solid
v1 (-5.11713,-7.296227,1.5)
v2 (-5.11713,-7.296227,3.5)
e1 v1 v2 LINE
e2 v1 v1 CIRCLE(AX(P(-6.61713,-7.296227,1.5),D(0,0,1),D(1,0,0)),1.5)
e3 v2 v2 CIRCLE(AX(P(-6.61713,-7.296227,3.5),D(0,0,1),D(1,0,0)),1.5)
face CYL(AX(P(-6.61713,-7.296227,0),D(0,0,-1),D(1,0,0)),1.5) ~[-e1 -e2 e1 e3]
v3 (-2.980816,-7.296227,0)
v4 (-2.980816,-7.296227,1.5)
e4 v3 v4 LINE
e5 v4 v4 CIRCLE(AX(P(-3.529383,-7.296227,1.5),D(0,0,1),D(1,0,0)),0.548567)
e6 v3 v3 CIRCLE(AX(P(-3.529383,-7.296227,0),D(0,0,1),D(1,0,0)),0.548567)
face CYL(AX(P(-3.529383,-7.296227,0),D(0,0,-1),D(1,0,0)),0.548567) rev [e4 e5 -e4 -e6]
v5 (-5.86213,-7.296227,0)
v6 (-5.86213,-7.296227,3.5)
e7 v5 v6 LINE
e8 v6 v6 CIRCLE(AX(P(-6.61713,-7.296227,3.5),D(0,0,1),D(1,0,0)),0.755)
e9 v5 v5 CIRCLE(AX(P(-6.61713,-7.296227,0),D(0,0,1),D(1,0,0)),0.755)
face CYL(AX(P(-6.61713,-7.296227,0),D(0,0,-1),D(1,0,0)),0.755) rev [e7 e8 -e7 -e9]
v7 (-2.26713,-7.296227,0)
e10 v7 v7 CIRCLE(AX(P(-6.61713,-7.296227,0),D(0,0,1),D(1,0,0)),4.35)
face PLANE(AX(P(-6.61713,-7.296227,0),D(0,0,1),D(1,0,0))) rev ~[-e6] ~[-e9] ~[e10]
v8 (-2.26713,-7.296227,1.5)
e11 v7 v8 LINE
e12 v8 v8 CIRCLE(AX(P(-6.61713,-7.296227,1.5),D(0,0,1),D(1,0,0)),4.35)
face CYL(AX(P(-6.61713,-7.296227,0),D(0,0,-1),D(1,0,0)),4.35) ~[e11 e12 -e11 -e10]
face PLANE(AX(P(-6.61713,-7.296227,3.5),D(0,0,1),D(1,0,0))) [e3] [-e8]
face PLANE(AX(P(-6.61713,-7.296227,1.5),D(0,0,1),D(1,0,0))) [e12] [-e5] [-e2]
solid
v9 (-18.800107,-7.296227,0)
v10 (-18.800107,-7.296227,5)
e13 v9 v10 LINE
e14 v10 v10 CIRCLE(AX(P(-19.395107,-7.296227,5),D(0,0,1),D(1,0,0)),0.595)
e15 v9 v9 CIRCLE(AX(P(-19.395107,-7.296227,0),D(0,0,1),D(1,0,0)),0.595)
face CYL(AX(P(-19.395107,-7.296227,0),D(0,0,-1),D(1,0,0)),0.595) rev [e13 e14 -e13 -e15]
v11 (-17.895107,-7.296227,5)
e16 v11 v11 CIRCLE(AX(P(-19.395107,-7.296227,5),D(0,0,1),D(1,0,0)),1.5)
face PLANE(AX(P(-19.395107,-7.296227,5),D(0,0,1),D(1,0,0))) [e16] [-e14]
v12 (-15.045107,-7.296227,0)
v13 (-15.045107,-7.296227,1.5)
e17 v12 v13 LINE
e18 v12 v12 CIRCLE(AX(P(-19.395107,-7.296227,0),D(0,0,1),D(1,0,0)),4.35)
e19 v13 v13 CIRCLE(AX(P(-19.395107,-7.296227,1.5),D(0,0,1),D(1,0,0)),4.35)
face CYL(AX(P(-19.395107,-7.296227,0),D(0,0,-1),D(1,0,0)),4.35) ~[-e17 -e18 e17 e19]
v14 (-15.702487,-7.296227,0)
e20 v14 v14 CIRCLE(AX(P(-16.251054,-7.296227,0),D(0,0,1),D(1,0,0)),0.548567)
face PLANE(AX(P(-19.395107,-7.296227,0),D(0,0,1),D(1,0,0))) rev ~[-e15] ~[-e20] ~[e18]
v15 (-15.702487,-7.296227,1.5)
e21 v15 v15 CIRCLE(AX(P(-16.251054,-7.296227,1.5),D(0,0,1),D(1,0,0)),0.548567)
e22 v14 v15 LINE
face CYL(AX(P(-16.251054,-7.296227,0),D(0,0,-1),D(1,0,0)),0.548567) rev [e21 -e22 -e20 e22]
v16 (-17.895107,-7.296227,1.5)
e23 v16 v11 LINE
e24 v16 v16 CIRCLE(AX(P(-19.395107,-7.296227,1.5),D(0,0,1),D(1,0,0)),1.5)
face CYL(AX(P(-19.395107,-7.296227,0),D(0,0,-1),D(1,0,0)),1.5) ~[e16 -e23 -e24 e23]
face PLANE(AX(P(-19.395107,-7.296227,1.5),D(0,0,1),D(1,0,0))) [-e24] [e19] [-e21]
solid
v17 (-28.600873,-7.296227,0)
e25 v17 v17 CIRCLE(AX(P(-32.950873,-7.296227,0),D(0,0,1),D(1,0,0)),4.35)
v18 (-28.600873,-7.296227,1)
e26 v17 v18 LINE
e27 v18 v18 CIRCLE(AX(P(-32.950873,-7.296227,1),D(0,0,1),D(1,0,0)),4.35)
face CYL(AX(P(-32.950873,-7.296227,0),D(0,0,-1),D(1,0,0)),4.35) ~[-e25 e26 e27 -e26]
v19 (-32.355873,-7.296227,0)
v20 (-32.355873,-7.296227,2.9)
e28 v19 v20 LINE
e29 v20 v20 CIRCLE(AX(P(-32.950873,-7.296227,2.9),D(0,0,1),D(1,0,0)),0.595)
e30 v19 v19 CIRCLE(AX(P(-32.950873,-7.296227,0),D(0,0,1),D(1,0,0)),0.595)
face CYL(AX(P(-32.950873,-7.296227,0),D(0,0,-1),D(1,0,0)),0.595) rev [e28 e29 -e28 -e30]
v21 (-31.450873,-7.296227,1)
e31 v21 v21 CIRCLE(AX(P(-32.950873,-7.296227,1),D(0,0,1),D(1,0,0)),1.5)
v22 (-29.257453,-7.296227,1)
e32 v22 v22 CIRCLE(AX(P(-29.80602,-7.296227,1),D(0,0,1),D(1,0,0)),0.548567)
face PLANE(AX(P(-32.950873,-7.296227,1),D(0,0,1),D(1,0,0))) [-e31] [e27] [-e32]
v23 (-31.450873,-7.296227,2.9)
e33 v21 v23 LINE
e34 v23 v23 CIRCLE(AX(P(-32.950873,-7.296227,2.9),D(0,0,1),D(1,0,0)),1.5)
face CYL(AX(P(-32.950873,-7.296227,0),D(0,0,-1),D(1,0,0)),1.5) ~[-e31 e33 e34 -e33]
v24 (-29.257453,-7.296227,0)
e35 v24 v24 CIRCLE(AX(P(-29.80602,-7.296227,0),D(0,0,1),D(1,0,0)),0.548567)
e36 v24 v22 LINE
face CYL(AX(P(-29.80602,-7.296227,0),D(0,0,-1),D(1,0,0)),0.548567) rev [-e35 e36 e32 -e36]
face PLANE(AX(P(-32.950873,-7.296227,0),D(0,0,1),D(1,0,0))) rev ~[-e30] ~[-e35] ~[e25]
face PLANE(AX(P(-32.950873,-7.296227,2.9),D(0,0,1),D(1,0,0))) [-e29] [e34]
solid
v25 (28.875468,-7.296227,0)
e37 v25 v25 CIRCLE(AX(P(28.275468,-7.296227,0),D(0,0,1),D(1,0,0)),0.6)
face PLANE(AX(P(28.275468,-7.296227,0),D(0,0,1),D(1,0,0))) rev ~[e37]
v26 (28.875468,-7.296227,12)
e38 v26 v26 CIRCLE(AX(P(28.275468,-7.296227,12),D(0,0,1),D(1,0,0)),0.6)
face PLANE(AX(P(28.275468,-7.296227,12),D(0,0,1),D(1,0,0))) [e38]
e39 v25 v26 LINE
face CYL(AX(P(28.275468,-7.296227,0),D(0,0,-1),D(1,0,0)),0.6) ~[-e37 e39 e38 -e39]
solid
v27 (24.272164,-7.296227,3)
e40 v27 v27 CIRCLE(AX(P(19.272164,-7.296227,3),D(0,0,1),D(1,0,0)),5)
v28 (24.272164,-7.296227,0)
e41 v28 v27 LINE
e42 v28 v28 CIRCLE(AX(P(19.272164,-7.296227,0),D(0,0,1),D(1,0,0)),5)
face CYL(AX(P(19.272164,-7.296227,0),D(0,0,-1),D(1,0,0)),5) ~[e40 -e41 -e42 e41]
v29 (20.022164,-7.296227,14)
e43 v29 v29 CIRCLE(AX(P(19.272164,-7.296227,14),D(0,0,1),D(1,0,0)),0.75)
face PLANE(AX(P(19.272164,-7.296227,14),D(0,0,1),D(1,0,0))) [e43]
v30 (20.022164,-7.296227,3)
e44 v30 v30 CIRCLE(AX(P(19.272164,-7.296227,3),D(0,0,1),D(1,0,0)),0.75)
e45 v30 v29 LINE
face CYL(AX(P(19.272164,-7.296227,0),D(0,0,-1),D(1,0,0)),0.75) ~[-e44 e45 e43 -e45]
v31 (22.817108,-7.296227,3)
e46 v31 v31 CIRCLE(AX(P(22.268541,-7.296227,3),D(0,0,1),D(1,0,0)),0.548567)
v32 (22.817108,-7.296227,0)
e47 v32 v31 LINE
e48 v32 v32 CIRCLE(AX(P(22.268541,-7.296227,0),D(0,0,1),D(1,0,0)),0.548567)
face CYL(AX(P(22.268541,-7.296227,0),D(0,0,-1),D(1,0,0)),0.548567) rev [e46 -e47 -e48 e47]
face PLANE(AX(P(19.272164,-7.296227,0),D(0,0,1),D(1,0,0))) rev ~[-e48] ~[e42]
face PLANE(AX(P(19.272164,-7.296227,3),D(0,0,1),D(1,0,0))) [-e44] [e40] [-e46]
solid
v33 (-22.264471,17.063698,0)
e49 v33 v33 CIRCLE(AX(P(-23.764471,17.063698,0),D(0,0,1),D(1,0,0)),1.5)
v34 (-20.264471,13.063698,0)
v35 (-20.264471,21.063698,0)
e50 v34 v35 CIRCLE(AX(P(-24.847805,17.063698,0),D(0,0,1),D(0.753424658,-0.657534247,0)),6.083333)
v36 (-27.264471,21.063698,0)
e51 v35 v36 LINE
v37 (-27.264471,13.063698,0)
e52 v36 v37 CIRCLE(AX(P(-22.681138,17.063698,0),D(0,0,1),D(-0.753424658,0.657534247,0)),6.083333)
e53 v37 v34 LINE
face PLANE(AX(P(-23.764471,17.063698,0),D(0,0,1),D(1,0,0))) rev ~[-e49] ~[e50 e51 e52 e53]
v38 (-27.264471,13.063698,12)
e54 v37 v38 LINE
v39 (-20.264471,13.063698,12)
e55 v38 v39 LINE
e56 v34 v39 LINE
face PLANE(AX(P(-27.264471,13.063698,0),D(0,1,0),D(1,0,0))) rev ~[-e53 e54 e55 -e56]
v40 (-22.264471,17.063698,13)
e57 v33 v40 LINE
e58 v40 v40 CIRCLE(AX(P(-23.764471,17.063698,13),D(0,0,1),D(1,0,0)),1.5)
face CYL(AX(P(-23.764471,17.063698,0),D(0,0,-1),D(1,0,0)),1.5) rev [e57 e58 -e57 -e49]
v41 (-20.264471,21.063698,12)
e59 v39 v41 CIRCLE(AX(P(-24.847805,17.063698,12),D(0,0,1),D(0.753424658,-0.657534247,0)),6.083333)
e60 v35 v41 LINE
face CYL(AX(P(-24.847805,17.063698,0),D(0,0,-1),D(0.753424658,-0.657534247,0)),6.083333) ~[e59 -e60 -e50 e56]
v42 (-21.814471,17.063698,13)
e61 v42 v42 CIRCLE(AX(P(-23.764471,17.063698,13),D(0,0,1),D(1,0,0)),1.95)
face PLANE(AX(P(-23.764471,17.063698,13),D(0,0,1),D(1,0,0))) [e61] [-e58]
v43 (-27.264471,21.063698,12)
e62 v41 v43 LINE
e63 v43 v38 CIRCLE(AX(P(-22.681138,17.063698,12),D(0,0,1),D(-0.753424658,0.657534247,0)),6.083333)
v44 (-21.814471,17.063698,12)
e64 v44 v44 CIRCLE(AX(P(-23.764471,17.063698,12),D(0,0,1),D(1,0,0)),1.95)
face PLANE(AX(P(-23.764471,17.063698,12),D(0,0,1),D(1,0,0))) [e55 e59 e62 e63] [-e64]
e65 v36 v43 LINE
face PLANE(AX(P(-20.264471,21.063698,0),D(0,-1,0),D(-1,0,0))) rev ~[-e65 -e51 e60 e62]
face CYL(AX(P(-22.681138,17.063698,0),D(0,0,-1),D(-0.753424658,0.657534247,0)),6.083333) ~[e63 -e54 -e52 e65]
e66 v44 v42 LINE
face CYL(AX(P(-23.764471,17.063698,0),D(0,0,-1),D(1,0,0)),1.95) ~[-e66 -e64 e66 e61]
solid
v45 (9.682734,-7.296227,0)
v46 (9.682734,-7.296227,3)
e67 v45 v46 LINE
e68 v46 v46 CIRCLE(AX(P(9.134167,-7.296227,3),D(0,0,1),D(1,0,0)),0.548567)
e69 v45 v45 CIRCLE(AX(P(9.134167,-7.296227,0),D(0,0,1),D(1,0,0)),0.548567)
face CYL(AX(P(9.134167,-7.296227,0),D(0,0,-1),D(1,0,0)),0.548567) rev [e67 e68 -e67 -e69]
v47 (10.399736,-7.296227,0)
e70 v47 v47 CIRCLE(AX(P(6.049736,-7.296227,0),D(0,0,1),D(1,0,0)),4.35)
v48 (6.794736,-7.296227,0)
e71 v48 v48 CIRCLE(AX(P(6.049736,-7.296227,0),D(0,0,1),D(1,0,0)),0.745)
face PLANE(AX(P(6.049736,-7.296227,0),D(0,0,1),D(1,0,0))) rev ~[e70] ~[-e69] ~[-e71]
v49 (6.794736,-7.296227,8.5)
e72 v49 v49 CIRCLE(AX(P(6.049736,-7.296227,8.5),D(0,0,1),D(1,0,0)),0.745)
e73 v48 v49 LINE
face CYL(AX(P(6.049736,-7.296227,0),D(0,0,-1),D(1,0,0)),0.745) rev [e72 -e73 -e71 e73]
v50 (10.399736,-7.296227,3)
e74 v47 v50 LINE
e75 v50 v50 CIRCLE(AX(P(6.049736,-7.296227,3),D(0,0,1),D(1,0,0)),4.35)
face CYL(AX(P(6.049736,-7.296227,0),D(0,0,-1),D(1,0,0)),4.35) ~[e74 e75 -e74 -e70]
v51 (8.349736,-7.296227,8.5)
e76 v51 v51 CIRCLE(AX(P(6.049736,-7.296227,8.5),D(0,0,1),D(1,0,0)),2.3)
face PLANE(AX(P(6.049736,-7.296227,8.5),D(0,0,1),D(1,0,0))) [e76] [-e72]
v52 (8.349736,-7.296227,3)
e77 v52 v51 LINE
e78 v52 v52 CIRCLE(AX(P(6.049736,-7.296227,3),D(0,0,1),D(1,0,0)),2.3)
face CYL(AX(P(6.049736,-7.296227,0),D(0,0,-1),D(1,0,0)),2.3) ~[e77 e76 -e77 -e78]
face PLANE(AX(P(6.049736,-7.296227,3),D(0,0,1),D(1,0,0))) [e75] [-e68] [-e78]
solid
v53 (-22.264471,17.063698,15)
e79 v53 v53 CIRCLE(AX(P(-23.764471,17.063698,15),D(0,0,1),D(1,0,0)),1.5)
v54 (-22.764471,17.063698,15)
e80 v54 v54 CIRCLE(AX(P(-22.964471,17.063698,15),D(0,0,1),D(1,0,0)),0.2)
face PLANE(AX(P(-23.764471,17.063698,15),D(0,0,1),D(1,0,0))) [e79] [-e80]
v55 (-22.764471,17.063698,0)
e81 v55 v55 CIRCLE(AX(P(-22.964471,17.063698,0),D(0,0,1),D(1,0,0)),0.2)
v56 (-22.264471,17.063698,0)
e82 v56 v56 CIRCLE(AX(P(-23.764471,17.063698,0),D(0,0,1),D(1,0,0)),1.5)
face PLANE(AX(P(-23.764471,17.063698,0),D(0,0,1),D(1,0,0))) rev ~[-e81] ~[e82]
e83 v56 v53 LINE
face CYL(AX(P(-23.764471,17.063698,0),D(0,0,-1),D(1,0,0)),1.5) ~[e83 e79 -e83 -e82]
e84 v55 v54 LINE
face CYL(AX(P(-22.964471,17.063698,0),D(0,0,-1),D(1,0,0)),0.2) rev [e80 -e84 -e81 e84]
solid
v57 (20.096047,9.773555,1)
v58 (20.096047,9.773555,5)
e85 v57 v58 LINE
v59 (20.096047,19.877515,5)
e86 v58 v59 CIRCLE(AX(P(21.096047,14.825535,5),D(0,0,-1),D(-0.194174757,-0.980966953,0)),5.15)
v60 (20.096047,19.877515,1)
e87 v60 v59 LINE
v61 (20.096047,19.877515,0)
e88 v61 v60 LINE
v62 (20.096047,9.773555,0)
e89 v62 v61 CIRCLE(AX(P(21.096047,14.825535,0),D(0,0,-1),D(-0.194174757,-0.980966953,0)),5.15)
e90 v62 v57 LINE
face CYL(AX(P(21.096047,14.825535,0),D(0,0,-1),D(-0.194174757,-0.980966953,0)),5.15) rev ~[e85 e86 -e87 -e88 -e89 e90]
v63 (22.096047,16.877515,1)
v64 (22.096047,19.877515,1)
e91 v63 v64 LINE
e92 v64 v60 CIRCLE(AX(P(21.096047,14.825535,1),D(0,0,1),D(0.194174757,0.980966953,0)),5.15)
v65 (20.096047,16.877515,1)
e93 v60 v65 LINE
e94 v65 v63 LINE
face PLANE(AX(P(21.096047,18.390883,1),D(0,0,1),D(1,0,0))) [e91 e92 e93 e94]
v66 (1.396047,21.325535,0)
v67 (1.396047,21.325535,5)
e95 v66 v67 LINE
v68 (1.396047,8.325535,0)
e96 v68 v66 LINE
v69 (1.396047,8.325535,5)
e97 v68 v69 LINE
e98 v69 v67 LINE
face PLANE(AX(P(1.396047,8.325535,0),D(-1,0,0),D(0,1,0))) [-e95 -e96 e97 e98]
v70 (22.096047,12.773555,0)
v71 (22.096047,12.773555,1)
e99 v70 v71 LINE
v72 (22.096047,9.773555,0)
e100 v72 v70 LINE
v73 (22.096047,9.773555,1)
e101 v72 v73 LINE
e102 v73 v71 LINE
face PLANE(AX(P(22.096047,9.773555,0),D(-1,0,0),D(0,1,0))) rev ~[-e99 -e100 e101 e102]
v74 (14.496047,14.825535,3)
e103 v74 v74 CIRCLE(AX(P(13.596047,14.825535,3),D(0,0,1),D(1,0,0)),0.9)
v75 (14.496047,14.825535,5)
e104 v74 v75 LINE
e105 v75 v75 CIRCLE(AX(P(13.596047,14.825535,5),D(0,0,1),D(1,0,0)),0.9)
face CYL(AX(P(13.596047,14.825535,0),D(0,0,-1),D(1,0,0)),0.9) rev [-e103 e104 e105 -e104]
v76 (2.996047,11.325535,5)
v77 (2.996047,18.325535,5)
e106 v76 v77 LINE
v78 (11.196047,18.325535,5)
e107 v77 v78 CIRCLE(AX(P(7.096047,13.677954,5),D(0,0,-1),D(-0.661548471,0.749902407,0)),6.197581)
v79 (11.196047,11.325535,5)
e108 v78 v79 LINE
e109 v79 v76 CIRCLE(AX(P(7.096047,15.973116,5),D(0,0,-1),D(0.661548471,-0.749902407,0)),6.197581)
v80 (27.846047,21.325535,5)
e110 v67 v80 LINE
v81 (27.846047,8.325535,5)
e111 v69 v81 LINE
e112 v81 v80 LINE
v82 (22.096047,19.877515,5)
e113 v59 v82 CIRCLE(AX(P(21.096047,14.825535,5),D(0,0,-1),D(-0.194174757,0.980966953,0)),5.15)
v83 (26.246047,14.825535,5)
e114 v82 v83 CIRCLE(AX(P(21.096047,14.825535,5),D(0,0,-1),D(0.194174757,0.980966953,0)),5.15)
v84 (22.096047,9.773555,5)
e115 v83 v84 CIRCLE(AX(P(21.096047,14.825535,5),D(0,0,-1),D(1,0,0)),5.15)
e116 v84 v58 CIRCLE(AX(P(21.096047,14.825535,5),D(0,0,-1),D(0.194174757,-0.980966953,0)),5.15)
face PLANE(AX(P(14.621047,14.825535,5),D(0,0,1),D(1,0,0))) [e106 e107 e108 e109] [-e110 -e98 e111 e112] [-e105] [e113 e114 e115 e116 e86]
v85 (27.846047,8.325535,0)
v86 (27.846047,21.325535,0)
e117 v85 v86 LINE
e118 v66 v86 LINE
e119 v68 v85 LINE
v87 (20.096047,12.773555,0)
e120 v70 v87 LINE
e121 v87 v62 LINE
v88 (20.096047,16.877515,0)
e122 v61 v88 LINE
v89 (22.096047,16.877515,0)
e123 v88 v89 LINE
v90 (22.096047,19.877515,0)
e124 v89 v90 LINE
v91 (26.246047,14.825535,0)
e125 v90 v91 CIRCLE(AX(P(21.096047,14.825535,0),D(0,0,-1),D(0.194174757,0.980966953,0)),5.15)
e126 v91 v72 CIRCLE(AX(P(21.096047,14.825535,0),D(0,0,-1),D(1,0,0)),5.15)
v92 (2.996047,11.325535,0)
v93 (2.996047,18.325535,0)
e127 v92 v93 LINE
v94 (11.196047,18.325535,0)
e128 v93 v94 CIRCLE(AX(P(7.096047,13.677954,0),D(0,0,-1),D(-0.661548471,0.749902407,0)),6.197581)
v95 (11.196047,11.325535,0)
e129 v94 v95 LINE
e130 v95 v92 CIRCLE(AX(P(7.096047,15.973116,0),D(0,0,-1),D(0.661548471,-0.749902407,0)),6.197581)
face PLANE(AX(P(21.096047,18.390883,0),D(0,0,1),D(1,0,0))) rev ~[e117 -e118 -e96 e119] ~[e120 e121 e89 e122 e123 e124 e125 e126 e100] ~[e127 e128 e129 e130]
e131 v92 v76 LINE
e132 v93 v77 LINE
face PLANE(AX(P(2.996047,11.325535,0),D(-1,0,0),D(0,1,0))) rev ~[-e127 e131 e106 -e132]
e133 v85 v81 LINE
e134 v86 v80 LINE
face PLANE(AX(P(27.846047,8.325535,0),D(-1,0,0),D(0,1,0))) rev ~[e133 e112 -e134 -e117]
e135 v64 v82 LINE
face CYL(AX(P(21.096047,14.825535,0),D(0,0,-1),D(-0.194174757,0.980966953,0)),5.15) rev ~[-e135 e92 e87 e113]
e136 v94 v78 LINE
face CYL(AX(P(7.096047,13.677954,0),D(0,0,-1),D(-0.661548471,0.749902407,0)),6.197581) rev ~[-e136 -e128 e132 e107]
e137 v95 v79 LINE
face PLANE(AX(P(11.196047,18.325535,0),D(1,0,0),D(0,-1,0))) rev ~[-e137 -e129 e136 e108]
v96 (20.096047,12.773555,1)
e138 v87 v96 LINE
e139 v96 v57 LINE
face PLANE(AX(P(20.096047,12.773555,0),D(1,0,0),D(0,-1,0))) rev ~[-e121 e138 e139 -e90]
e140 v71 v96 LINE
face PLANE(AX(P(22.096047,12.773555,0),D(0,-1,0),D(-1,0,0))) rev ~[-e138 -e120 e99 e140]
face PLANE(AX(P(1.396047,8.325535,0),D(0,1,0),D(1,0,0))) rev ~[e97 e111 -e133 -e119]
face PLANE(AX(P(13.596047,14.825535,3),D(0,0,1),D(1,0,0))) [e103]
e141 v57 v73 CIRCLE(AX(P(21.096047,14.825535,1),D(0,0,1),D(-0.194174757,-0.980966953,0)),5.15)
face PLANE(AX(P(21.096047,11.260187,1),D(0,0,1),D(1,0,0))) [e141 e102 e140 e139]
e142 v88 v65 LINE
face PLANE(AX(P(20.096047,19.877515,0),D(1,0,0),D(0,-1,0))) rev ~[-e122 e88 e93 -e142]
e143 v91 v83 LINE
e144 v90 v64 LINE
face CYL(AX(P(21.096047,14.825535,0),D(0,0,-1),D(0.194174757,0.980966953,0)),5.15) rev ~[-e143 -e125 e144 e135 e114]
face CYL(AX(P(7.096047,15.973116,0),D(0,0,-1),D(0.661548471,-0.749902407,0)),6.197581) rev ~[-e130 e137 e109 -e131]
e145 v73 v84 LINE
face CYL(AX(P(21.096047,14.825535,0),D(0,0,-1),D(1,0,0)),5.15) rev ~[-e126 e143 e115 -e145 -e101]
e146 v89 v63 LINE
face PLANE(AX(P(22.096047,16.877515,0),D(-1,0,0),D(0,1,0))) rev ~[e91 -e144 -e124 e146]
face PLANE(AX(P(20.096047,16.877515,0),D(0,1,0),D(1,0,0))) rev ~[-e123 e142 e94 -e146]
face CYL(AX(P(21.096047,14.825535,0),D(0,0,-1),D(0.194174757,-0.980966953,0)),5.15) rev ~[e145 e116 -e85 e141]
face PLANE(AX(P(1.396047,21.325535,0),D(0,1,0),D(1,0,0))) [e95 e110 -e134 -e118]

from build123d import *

# Parameters (mm, degrees)
F0_R      = 5
F0_R_2    = 0.75
F0_R_3    = 0.5485666416
F1_DEPTH  = 3
F2_DEPTH  = 14
F0_R_4    = 4.35
F0_R_5    = 2.3
F3_DEPTH  = 3
F0_R_6    = 0.745
F4_DEPTH  = 8.5
F0_R_7    = 1.5
F5_DEPTH  = 1.5
F0_R_8    = 0.755
F6_DEPTH  = 3.5
F7_DEPTH  = 1.5
F0_R_9    = 0.595
F8_DEPTH  = 5
F9_DEPTH  = 1
F10_DEPTH = 2.9
F0_R_10   = 0.6
F11_DEPTH = 12
F0_W      = 26.45
F0_H      = 13
F0_R_11   = 0.9
F12_DEPTH = 6
F13_DEPTH = 3
F14_DEPTH = 1
F0_R_12   = 2
F15_DEPTH = 5
F0_R_13   = 1.95
F16_DEPTH = 12
F17_DEPTH = 13
F0_R_14   = 0.2
F18_DEPTH = 15
F19_DEPTH = 1


with BuildPart() as f1:
    # F0 (on Top) → F1 (new body)
    with BuildSketch(Plane.XY):
        with Locations((19.2721644416, -7.2962273844)):
            Circle(F0_R)
        with Locations((19.2721644416, -7.2962273844)):
            Circle(F0_R_2, mode=Mode.SUBTRACT)
        with Locations((22.2685411572, -7.2962273844)):
            Circle(F0_R_3, mode=Mode.SUBTRACT)
    extrude(amount=F1_DEPTH)

    # F0 (on Top) → F2 (join)
    with BuildSketch(Plane.XY):
        with Locations((19.2721644416, -7.2962273844)):
            Circle(F0_R_2)
    extrude(amount=F2_DEPTH)

    # F0 (on Top) → F15 (cut)
    with BuildSketch(Plane.XY):
        with BuildLine():
            ThreePointArc((11.1960465208, 18.3255350873), (7.0960465208, 19.8755350873), (2.9960465208, 18.3255350873))
            Line((2.9960465208, 18.3255350873), (2.9960465208, 14.8255350873))
            Line((2.9960465208, 14.8255350873), (2.9960465208, 11.3255350873))
            ThreePointArc((2.9960465208, 11.3255350873), (7.0960465208, 9.7755350873), (11.1960465208, 11.3255350873))
            Line((11.1960465208, 11.3255350873), (11.1960465208, 14.8255350873))
            Line((11.1960465208, 14.8255350873), (11.1960465208, 18.3255350873))
        make_face()
        with Locations((7.0960465208, 14.8255350873)):
            Circle(F0_R_12, mode=Mode.SUBTRACT)
    extrude(amount=F15_DEPTH, mode=Mode.SUBTRACT)


with BuildPart() as f3:
    # F0 (on Top) → F3 (new body)
    with BuildSketch(Plane.XY):
        with Locations((6.0497364029, -7.2962273844)):
            Circle(F0_R_4)
        with Locations((6.0497364029, -7.2962273844)):
            Circle(F0_R_5, mode=Mode.SUBTRACT)
        with Locations((9.134166874, -7.2962273844)):
            Circle(F0_R_3, mode=Mode.SUBTRACT)
    extrude(amount=F3_DEPTH)

    # F0 (on Top) → F4 (join)
    with BuildSketch(Plane.XY):
        with Locations((6.0497364029, -7.2962273844)):
            Circle(F0_R_5)
        with Locations((6.0497364029, -7.2962273844)):
            Circle(F0_R_6, mode=Mode.SUBTRACT)
    extrude(amount=F4_DEPTH)


with BuildPart() as f5:
    # F0 (on Top) → F5 (new body)
    with BuildSketch(Plane.XY):
        with Locations((-6.6171297804, -7.2962273844)):
            Circle(F0_R_4)
        with Locations((-6.6171297804, -7.2962273844)):
            Circle(F0_R_7, mode=Mode.SUBTRACT)
        with Locations((-3.5293828696, -7.2962273844)):
            Circle(F0_R_3, mode=Mode.SUBTRACT)
    extrude(amount=F5_DEPTH)

    # F0 (on Top) → F6 (join)
    with BuildSketch(Plane.XY):
        with Locations((-6.6171297804, -7.2962273844)):
            Circle(F0_R_7)
        with Locations((-6.6171297804, -7.2962273844)):
            Circle(F0_R_8, mode=Mode.SUBTRACT)
    extrude(amount=F6_DEPTH)


with BuildPart() as f7:
    # F0 (on Top) → F7 (new body)
    with BuildSketch(Plane.XY):
        with Locations((-19.3951069377, -7.2962273844)):
            Circle(F0_R_4)
        with Locations((-19.3951069377, -7.2962273844)):
            Circle(F0_R_7, mode=Mode.SUBTRACT)
        with Locations((-16.2510535447, -7.2962273844)):
            Circle(F0_R_3, mode=Mode.SUBTRACT)
    extrude(amount=F7_DEPTH)

    # F0 (on Top) → F8 (join)
    with BuildSketch(Plane.XY):
        with Locations((-19.3951069377, -7.2962273844)):
            Circle(F0_R_7)
        with Locations((-19.3951069377, -7.2962273844)):
            Circle(F0_R_9, mode=Mode.SUBTRACT)
    extrude(amount=F8_DEPTH)


with BuildPart() as f9:
    # F0 (on Top) → F9 (new body)
    with BuildSketch(Plane.XY):
        with Locations((-32.9508734867, -7.2962273844)):
            Circle(F0_R_4)
        with Locations((-32.9508734867, -7.2962273844)):
            Circle(F0_R_7, mode=Mode.SUBTRACT)
        with Locations((-29.8060197383, -7.2962273844)):
            Circle(F0_R_3, mode=Mode.SUBTRACT)
    extrude(amount=F9_DEPTH)

    # F0 (on Top) → F10 (join)
    with BuildSketch(Plane.XY):
        with Locations((-32.9508734867, -7.2962273844)):
            Circle(F0_R_7)
        with Locations((-32.9508734867, -7.2962273844)):
            Circle(F0_R_9, mode=Mode.SUBTRACT)
    extrude(amount=F10_DEPTH)


with BuildPart() as f11:
    # F0 (on Top) → F11 (new body)
    with BuildSketch(Plane.XY):
        with Locations((28.2754683867, -7.2962273844)):
            Circle(F0_R_10)
    extrude(amount=F11_DEPTH)


with BuildPart() as f12:
    # F0 (on Top) → F12 (new body)
    with BuildSketch(Plane.XY):
        with Locations((14.6210465208, 14.8255350873)):
            Rectangle(F0_W, F0_H)
        with BuildLine():
            Line((2.9960465208, 14.8255350873), (2.9960465208, 18.3255350873))
            ThreePointArc((2.9960465208, 18.3255350873), (7.0960465208, 19.8755350873), (11.1960465208, 18.3255350873))
            Line((11.1960465208, 18.3255350873), (11.1960465208, 14.8255350873))
            Line((11.1960465208, 14.8255350873), (11.1960465208, 11.3255350873))
            ThreePointArc((11.1960465208, 11.3255350873), (7.0960465208, 9.7755350873), (2.9960465208, 11.3255350873))
            Line((2.9960465208, 11.3255350873), (2.9960465208, 14.8255350873))
        make_face(mode=Mode.SUBTRACT)
        with Locations((13.5960465208, 14.8255350873)):
            Circle(F0_R_11, mode=Mode.SUBTRACT)
        with BuildLine():
            ThreePointArc((22.0960465208, 19.8775148972), (25.0755251298, 18.0945181096), (26.2460465208, 14.8255350873))
            ThreePointArc((26.2460465208, 14.8255350873), (25.0755251298, 11.556552065), (22.0960465208, 9.7735552774))
            ThreePointArc((22.0960465208, 9.7735552774), (21.0960465208, 9.6755350873), (20.0960465208, 9.7735552774))
            ThreePointArc((20.0960465208, 9.7735552774), (15.9460465208, 14.8255350873), (20.0960465208, 19.8775148972))
            ThreePointArc((20.0960465208, 19.8775148972), (21.0960465208, 19.9755350873), (22.0960465208, 19.8775148972))
        make_face(mode=Mode.SUBTRACT)
    extrude(amount=F12_DEPTH)

    # F0 (on Top) → F13 (join)
    with BuildSketch(Plane.XY):
        with Locations((13.5960465208, 14.8255350873)):
            Circle(F0_R_11)
    extrude(amount=F13_DEPTH)

    # F0 (on Top) → F14 (join)
    with BuildSketch(Plane.XY):
        with BuildLine():
            Line((22.0960465208, 16.8775148972), (22.0960465208, 19.8775148972))
            ThreePointArc((22.0960465208, 19.8775148972), (21.0960465208, 19.9755350873), (20.0960465208, 19.8775148972))
            Line((20.0960465208, 19.8775148972), (20.0960465208, 16.8775148972))
            Line((20.0960465208, 16.8775148972), (22.0960465208, 16.8775148972))
        make_face()
        with BuildLine():
            ThreePointArc((20.0960465208, 9.7735552774), (21.0960465208, 9.6755350873), (22.0960465208, 9.7735552774))
            Line((22.0960465208, 9.7735552774), (22.0960465208, 12.7735552774))
            Line((22.0960465208, 12.7735552774), (20.0960465208, 12.7735552774))
            Line((20.0960465208, 12.7735552774), (20.0960465208, 9.7735552774))
        make_face()
    extrude(amount=F14_DEPTH)

    # F19 (cut): a face of the model
    f19_faces = [f12.faces().sort_by_distance(p)[0] for p in [
        (14.7636825054, 14.8255350873, 6),
    ]]
    extrude(f19_faces, amount=-F19_DEPTH, mode=Mode.SUBTRACT)


with BuildPart() as f16:
    # F0 (on Top) → F16 (new body)
    with BuildSketch(Plane.XY):
        with BuildLine():
            Line((-20.2644714117, 21.0636980757), (-27.2644714117, 21.0636980757))
            ThreePointArc((-27.2644714117, 21.0636980757), (-28.7644714117, 17.0636980757), (-27.2644714117, 13.0636980757))
            Line((-27.2644714117, 13.0636980757), (-20.2644714117, 13.0636980757))
            ThreePointArc((-20.2644714117, 13.0636980757), (-18.7644714117, 17.0636980757), (-20.2644714117, 21.0636980757))
        make_face()
        with Locations((-23.7644714117, 17.0636980757)):
            Circle(F0_R_13, mode=Mode.SUBTRACT)
    extrude(amount=F16_DEPTH)

    # F0 (on Top) → F17 (join)
    with BuildSketch(Plane.XY):
        with Locations((-23.7644714117, 17.0636980757)):
            Circle(F0_R_13)
        with Locations((-23.7644714117, 17.0636980757)):
            Circle(F0_R_7, mode=Mode.SUBTRACT)
    extrude(amount=F17_DEPTH)


with BuildPart() as f18:
    # F0 (on Top) → F18 (new body)
    with BuildSketch(Plane.XY):
        with Locations((-23.7644714117, 17.0636980757)):
            Circle(F0_R_7)
        with Locations((-22.9644714117, 17.0636980757)):
            Circle(F0_R_14, mode=Mode.SUBTRACT)
    extrude(amount=F18_DEPTH)


solid = Compound([f1.part, f3.part, f5.part, f7.part, f9.part, f11.part, f12.part, f16.part, f18.part])
